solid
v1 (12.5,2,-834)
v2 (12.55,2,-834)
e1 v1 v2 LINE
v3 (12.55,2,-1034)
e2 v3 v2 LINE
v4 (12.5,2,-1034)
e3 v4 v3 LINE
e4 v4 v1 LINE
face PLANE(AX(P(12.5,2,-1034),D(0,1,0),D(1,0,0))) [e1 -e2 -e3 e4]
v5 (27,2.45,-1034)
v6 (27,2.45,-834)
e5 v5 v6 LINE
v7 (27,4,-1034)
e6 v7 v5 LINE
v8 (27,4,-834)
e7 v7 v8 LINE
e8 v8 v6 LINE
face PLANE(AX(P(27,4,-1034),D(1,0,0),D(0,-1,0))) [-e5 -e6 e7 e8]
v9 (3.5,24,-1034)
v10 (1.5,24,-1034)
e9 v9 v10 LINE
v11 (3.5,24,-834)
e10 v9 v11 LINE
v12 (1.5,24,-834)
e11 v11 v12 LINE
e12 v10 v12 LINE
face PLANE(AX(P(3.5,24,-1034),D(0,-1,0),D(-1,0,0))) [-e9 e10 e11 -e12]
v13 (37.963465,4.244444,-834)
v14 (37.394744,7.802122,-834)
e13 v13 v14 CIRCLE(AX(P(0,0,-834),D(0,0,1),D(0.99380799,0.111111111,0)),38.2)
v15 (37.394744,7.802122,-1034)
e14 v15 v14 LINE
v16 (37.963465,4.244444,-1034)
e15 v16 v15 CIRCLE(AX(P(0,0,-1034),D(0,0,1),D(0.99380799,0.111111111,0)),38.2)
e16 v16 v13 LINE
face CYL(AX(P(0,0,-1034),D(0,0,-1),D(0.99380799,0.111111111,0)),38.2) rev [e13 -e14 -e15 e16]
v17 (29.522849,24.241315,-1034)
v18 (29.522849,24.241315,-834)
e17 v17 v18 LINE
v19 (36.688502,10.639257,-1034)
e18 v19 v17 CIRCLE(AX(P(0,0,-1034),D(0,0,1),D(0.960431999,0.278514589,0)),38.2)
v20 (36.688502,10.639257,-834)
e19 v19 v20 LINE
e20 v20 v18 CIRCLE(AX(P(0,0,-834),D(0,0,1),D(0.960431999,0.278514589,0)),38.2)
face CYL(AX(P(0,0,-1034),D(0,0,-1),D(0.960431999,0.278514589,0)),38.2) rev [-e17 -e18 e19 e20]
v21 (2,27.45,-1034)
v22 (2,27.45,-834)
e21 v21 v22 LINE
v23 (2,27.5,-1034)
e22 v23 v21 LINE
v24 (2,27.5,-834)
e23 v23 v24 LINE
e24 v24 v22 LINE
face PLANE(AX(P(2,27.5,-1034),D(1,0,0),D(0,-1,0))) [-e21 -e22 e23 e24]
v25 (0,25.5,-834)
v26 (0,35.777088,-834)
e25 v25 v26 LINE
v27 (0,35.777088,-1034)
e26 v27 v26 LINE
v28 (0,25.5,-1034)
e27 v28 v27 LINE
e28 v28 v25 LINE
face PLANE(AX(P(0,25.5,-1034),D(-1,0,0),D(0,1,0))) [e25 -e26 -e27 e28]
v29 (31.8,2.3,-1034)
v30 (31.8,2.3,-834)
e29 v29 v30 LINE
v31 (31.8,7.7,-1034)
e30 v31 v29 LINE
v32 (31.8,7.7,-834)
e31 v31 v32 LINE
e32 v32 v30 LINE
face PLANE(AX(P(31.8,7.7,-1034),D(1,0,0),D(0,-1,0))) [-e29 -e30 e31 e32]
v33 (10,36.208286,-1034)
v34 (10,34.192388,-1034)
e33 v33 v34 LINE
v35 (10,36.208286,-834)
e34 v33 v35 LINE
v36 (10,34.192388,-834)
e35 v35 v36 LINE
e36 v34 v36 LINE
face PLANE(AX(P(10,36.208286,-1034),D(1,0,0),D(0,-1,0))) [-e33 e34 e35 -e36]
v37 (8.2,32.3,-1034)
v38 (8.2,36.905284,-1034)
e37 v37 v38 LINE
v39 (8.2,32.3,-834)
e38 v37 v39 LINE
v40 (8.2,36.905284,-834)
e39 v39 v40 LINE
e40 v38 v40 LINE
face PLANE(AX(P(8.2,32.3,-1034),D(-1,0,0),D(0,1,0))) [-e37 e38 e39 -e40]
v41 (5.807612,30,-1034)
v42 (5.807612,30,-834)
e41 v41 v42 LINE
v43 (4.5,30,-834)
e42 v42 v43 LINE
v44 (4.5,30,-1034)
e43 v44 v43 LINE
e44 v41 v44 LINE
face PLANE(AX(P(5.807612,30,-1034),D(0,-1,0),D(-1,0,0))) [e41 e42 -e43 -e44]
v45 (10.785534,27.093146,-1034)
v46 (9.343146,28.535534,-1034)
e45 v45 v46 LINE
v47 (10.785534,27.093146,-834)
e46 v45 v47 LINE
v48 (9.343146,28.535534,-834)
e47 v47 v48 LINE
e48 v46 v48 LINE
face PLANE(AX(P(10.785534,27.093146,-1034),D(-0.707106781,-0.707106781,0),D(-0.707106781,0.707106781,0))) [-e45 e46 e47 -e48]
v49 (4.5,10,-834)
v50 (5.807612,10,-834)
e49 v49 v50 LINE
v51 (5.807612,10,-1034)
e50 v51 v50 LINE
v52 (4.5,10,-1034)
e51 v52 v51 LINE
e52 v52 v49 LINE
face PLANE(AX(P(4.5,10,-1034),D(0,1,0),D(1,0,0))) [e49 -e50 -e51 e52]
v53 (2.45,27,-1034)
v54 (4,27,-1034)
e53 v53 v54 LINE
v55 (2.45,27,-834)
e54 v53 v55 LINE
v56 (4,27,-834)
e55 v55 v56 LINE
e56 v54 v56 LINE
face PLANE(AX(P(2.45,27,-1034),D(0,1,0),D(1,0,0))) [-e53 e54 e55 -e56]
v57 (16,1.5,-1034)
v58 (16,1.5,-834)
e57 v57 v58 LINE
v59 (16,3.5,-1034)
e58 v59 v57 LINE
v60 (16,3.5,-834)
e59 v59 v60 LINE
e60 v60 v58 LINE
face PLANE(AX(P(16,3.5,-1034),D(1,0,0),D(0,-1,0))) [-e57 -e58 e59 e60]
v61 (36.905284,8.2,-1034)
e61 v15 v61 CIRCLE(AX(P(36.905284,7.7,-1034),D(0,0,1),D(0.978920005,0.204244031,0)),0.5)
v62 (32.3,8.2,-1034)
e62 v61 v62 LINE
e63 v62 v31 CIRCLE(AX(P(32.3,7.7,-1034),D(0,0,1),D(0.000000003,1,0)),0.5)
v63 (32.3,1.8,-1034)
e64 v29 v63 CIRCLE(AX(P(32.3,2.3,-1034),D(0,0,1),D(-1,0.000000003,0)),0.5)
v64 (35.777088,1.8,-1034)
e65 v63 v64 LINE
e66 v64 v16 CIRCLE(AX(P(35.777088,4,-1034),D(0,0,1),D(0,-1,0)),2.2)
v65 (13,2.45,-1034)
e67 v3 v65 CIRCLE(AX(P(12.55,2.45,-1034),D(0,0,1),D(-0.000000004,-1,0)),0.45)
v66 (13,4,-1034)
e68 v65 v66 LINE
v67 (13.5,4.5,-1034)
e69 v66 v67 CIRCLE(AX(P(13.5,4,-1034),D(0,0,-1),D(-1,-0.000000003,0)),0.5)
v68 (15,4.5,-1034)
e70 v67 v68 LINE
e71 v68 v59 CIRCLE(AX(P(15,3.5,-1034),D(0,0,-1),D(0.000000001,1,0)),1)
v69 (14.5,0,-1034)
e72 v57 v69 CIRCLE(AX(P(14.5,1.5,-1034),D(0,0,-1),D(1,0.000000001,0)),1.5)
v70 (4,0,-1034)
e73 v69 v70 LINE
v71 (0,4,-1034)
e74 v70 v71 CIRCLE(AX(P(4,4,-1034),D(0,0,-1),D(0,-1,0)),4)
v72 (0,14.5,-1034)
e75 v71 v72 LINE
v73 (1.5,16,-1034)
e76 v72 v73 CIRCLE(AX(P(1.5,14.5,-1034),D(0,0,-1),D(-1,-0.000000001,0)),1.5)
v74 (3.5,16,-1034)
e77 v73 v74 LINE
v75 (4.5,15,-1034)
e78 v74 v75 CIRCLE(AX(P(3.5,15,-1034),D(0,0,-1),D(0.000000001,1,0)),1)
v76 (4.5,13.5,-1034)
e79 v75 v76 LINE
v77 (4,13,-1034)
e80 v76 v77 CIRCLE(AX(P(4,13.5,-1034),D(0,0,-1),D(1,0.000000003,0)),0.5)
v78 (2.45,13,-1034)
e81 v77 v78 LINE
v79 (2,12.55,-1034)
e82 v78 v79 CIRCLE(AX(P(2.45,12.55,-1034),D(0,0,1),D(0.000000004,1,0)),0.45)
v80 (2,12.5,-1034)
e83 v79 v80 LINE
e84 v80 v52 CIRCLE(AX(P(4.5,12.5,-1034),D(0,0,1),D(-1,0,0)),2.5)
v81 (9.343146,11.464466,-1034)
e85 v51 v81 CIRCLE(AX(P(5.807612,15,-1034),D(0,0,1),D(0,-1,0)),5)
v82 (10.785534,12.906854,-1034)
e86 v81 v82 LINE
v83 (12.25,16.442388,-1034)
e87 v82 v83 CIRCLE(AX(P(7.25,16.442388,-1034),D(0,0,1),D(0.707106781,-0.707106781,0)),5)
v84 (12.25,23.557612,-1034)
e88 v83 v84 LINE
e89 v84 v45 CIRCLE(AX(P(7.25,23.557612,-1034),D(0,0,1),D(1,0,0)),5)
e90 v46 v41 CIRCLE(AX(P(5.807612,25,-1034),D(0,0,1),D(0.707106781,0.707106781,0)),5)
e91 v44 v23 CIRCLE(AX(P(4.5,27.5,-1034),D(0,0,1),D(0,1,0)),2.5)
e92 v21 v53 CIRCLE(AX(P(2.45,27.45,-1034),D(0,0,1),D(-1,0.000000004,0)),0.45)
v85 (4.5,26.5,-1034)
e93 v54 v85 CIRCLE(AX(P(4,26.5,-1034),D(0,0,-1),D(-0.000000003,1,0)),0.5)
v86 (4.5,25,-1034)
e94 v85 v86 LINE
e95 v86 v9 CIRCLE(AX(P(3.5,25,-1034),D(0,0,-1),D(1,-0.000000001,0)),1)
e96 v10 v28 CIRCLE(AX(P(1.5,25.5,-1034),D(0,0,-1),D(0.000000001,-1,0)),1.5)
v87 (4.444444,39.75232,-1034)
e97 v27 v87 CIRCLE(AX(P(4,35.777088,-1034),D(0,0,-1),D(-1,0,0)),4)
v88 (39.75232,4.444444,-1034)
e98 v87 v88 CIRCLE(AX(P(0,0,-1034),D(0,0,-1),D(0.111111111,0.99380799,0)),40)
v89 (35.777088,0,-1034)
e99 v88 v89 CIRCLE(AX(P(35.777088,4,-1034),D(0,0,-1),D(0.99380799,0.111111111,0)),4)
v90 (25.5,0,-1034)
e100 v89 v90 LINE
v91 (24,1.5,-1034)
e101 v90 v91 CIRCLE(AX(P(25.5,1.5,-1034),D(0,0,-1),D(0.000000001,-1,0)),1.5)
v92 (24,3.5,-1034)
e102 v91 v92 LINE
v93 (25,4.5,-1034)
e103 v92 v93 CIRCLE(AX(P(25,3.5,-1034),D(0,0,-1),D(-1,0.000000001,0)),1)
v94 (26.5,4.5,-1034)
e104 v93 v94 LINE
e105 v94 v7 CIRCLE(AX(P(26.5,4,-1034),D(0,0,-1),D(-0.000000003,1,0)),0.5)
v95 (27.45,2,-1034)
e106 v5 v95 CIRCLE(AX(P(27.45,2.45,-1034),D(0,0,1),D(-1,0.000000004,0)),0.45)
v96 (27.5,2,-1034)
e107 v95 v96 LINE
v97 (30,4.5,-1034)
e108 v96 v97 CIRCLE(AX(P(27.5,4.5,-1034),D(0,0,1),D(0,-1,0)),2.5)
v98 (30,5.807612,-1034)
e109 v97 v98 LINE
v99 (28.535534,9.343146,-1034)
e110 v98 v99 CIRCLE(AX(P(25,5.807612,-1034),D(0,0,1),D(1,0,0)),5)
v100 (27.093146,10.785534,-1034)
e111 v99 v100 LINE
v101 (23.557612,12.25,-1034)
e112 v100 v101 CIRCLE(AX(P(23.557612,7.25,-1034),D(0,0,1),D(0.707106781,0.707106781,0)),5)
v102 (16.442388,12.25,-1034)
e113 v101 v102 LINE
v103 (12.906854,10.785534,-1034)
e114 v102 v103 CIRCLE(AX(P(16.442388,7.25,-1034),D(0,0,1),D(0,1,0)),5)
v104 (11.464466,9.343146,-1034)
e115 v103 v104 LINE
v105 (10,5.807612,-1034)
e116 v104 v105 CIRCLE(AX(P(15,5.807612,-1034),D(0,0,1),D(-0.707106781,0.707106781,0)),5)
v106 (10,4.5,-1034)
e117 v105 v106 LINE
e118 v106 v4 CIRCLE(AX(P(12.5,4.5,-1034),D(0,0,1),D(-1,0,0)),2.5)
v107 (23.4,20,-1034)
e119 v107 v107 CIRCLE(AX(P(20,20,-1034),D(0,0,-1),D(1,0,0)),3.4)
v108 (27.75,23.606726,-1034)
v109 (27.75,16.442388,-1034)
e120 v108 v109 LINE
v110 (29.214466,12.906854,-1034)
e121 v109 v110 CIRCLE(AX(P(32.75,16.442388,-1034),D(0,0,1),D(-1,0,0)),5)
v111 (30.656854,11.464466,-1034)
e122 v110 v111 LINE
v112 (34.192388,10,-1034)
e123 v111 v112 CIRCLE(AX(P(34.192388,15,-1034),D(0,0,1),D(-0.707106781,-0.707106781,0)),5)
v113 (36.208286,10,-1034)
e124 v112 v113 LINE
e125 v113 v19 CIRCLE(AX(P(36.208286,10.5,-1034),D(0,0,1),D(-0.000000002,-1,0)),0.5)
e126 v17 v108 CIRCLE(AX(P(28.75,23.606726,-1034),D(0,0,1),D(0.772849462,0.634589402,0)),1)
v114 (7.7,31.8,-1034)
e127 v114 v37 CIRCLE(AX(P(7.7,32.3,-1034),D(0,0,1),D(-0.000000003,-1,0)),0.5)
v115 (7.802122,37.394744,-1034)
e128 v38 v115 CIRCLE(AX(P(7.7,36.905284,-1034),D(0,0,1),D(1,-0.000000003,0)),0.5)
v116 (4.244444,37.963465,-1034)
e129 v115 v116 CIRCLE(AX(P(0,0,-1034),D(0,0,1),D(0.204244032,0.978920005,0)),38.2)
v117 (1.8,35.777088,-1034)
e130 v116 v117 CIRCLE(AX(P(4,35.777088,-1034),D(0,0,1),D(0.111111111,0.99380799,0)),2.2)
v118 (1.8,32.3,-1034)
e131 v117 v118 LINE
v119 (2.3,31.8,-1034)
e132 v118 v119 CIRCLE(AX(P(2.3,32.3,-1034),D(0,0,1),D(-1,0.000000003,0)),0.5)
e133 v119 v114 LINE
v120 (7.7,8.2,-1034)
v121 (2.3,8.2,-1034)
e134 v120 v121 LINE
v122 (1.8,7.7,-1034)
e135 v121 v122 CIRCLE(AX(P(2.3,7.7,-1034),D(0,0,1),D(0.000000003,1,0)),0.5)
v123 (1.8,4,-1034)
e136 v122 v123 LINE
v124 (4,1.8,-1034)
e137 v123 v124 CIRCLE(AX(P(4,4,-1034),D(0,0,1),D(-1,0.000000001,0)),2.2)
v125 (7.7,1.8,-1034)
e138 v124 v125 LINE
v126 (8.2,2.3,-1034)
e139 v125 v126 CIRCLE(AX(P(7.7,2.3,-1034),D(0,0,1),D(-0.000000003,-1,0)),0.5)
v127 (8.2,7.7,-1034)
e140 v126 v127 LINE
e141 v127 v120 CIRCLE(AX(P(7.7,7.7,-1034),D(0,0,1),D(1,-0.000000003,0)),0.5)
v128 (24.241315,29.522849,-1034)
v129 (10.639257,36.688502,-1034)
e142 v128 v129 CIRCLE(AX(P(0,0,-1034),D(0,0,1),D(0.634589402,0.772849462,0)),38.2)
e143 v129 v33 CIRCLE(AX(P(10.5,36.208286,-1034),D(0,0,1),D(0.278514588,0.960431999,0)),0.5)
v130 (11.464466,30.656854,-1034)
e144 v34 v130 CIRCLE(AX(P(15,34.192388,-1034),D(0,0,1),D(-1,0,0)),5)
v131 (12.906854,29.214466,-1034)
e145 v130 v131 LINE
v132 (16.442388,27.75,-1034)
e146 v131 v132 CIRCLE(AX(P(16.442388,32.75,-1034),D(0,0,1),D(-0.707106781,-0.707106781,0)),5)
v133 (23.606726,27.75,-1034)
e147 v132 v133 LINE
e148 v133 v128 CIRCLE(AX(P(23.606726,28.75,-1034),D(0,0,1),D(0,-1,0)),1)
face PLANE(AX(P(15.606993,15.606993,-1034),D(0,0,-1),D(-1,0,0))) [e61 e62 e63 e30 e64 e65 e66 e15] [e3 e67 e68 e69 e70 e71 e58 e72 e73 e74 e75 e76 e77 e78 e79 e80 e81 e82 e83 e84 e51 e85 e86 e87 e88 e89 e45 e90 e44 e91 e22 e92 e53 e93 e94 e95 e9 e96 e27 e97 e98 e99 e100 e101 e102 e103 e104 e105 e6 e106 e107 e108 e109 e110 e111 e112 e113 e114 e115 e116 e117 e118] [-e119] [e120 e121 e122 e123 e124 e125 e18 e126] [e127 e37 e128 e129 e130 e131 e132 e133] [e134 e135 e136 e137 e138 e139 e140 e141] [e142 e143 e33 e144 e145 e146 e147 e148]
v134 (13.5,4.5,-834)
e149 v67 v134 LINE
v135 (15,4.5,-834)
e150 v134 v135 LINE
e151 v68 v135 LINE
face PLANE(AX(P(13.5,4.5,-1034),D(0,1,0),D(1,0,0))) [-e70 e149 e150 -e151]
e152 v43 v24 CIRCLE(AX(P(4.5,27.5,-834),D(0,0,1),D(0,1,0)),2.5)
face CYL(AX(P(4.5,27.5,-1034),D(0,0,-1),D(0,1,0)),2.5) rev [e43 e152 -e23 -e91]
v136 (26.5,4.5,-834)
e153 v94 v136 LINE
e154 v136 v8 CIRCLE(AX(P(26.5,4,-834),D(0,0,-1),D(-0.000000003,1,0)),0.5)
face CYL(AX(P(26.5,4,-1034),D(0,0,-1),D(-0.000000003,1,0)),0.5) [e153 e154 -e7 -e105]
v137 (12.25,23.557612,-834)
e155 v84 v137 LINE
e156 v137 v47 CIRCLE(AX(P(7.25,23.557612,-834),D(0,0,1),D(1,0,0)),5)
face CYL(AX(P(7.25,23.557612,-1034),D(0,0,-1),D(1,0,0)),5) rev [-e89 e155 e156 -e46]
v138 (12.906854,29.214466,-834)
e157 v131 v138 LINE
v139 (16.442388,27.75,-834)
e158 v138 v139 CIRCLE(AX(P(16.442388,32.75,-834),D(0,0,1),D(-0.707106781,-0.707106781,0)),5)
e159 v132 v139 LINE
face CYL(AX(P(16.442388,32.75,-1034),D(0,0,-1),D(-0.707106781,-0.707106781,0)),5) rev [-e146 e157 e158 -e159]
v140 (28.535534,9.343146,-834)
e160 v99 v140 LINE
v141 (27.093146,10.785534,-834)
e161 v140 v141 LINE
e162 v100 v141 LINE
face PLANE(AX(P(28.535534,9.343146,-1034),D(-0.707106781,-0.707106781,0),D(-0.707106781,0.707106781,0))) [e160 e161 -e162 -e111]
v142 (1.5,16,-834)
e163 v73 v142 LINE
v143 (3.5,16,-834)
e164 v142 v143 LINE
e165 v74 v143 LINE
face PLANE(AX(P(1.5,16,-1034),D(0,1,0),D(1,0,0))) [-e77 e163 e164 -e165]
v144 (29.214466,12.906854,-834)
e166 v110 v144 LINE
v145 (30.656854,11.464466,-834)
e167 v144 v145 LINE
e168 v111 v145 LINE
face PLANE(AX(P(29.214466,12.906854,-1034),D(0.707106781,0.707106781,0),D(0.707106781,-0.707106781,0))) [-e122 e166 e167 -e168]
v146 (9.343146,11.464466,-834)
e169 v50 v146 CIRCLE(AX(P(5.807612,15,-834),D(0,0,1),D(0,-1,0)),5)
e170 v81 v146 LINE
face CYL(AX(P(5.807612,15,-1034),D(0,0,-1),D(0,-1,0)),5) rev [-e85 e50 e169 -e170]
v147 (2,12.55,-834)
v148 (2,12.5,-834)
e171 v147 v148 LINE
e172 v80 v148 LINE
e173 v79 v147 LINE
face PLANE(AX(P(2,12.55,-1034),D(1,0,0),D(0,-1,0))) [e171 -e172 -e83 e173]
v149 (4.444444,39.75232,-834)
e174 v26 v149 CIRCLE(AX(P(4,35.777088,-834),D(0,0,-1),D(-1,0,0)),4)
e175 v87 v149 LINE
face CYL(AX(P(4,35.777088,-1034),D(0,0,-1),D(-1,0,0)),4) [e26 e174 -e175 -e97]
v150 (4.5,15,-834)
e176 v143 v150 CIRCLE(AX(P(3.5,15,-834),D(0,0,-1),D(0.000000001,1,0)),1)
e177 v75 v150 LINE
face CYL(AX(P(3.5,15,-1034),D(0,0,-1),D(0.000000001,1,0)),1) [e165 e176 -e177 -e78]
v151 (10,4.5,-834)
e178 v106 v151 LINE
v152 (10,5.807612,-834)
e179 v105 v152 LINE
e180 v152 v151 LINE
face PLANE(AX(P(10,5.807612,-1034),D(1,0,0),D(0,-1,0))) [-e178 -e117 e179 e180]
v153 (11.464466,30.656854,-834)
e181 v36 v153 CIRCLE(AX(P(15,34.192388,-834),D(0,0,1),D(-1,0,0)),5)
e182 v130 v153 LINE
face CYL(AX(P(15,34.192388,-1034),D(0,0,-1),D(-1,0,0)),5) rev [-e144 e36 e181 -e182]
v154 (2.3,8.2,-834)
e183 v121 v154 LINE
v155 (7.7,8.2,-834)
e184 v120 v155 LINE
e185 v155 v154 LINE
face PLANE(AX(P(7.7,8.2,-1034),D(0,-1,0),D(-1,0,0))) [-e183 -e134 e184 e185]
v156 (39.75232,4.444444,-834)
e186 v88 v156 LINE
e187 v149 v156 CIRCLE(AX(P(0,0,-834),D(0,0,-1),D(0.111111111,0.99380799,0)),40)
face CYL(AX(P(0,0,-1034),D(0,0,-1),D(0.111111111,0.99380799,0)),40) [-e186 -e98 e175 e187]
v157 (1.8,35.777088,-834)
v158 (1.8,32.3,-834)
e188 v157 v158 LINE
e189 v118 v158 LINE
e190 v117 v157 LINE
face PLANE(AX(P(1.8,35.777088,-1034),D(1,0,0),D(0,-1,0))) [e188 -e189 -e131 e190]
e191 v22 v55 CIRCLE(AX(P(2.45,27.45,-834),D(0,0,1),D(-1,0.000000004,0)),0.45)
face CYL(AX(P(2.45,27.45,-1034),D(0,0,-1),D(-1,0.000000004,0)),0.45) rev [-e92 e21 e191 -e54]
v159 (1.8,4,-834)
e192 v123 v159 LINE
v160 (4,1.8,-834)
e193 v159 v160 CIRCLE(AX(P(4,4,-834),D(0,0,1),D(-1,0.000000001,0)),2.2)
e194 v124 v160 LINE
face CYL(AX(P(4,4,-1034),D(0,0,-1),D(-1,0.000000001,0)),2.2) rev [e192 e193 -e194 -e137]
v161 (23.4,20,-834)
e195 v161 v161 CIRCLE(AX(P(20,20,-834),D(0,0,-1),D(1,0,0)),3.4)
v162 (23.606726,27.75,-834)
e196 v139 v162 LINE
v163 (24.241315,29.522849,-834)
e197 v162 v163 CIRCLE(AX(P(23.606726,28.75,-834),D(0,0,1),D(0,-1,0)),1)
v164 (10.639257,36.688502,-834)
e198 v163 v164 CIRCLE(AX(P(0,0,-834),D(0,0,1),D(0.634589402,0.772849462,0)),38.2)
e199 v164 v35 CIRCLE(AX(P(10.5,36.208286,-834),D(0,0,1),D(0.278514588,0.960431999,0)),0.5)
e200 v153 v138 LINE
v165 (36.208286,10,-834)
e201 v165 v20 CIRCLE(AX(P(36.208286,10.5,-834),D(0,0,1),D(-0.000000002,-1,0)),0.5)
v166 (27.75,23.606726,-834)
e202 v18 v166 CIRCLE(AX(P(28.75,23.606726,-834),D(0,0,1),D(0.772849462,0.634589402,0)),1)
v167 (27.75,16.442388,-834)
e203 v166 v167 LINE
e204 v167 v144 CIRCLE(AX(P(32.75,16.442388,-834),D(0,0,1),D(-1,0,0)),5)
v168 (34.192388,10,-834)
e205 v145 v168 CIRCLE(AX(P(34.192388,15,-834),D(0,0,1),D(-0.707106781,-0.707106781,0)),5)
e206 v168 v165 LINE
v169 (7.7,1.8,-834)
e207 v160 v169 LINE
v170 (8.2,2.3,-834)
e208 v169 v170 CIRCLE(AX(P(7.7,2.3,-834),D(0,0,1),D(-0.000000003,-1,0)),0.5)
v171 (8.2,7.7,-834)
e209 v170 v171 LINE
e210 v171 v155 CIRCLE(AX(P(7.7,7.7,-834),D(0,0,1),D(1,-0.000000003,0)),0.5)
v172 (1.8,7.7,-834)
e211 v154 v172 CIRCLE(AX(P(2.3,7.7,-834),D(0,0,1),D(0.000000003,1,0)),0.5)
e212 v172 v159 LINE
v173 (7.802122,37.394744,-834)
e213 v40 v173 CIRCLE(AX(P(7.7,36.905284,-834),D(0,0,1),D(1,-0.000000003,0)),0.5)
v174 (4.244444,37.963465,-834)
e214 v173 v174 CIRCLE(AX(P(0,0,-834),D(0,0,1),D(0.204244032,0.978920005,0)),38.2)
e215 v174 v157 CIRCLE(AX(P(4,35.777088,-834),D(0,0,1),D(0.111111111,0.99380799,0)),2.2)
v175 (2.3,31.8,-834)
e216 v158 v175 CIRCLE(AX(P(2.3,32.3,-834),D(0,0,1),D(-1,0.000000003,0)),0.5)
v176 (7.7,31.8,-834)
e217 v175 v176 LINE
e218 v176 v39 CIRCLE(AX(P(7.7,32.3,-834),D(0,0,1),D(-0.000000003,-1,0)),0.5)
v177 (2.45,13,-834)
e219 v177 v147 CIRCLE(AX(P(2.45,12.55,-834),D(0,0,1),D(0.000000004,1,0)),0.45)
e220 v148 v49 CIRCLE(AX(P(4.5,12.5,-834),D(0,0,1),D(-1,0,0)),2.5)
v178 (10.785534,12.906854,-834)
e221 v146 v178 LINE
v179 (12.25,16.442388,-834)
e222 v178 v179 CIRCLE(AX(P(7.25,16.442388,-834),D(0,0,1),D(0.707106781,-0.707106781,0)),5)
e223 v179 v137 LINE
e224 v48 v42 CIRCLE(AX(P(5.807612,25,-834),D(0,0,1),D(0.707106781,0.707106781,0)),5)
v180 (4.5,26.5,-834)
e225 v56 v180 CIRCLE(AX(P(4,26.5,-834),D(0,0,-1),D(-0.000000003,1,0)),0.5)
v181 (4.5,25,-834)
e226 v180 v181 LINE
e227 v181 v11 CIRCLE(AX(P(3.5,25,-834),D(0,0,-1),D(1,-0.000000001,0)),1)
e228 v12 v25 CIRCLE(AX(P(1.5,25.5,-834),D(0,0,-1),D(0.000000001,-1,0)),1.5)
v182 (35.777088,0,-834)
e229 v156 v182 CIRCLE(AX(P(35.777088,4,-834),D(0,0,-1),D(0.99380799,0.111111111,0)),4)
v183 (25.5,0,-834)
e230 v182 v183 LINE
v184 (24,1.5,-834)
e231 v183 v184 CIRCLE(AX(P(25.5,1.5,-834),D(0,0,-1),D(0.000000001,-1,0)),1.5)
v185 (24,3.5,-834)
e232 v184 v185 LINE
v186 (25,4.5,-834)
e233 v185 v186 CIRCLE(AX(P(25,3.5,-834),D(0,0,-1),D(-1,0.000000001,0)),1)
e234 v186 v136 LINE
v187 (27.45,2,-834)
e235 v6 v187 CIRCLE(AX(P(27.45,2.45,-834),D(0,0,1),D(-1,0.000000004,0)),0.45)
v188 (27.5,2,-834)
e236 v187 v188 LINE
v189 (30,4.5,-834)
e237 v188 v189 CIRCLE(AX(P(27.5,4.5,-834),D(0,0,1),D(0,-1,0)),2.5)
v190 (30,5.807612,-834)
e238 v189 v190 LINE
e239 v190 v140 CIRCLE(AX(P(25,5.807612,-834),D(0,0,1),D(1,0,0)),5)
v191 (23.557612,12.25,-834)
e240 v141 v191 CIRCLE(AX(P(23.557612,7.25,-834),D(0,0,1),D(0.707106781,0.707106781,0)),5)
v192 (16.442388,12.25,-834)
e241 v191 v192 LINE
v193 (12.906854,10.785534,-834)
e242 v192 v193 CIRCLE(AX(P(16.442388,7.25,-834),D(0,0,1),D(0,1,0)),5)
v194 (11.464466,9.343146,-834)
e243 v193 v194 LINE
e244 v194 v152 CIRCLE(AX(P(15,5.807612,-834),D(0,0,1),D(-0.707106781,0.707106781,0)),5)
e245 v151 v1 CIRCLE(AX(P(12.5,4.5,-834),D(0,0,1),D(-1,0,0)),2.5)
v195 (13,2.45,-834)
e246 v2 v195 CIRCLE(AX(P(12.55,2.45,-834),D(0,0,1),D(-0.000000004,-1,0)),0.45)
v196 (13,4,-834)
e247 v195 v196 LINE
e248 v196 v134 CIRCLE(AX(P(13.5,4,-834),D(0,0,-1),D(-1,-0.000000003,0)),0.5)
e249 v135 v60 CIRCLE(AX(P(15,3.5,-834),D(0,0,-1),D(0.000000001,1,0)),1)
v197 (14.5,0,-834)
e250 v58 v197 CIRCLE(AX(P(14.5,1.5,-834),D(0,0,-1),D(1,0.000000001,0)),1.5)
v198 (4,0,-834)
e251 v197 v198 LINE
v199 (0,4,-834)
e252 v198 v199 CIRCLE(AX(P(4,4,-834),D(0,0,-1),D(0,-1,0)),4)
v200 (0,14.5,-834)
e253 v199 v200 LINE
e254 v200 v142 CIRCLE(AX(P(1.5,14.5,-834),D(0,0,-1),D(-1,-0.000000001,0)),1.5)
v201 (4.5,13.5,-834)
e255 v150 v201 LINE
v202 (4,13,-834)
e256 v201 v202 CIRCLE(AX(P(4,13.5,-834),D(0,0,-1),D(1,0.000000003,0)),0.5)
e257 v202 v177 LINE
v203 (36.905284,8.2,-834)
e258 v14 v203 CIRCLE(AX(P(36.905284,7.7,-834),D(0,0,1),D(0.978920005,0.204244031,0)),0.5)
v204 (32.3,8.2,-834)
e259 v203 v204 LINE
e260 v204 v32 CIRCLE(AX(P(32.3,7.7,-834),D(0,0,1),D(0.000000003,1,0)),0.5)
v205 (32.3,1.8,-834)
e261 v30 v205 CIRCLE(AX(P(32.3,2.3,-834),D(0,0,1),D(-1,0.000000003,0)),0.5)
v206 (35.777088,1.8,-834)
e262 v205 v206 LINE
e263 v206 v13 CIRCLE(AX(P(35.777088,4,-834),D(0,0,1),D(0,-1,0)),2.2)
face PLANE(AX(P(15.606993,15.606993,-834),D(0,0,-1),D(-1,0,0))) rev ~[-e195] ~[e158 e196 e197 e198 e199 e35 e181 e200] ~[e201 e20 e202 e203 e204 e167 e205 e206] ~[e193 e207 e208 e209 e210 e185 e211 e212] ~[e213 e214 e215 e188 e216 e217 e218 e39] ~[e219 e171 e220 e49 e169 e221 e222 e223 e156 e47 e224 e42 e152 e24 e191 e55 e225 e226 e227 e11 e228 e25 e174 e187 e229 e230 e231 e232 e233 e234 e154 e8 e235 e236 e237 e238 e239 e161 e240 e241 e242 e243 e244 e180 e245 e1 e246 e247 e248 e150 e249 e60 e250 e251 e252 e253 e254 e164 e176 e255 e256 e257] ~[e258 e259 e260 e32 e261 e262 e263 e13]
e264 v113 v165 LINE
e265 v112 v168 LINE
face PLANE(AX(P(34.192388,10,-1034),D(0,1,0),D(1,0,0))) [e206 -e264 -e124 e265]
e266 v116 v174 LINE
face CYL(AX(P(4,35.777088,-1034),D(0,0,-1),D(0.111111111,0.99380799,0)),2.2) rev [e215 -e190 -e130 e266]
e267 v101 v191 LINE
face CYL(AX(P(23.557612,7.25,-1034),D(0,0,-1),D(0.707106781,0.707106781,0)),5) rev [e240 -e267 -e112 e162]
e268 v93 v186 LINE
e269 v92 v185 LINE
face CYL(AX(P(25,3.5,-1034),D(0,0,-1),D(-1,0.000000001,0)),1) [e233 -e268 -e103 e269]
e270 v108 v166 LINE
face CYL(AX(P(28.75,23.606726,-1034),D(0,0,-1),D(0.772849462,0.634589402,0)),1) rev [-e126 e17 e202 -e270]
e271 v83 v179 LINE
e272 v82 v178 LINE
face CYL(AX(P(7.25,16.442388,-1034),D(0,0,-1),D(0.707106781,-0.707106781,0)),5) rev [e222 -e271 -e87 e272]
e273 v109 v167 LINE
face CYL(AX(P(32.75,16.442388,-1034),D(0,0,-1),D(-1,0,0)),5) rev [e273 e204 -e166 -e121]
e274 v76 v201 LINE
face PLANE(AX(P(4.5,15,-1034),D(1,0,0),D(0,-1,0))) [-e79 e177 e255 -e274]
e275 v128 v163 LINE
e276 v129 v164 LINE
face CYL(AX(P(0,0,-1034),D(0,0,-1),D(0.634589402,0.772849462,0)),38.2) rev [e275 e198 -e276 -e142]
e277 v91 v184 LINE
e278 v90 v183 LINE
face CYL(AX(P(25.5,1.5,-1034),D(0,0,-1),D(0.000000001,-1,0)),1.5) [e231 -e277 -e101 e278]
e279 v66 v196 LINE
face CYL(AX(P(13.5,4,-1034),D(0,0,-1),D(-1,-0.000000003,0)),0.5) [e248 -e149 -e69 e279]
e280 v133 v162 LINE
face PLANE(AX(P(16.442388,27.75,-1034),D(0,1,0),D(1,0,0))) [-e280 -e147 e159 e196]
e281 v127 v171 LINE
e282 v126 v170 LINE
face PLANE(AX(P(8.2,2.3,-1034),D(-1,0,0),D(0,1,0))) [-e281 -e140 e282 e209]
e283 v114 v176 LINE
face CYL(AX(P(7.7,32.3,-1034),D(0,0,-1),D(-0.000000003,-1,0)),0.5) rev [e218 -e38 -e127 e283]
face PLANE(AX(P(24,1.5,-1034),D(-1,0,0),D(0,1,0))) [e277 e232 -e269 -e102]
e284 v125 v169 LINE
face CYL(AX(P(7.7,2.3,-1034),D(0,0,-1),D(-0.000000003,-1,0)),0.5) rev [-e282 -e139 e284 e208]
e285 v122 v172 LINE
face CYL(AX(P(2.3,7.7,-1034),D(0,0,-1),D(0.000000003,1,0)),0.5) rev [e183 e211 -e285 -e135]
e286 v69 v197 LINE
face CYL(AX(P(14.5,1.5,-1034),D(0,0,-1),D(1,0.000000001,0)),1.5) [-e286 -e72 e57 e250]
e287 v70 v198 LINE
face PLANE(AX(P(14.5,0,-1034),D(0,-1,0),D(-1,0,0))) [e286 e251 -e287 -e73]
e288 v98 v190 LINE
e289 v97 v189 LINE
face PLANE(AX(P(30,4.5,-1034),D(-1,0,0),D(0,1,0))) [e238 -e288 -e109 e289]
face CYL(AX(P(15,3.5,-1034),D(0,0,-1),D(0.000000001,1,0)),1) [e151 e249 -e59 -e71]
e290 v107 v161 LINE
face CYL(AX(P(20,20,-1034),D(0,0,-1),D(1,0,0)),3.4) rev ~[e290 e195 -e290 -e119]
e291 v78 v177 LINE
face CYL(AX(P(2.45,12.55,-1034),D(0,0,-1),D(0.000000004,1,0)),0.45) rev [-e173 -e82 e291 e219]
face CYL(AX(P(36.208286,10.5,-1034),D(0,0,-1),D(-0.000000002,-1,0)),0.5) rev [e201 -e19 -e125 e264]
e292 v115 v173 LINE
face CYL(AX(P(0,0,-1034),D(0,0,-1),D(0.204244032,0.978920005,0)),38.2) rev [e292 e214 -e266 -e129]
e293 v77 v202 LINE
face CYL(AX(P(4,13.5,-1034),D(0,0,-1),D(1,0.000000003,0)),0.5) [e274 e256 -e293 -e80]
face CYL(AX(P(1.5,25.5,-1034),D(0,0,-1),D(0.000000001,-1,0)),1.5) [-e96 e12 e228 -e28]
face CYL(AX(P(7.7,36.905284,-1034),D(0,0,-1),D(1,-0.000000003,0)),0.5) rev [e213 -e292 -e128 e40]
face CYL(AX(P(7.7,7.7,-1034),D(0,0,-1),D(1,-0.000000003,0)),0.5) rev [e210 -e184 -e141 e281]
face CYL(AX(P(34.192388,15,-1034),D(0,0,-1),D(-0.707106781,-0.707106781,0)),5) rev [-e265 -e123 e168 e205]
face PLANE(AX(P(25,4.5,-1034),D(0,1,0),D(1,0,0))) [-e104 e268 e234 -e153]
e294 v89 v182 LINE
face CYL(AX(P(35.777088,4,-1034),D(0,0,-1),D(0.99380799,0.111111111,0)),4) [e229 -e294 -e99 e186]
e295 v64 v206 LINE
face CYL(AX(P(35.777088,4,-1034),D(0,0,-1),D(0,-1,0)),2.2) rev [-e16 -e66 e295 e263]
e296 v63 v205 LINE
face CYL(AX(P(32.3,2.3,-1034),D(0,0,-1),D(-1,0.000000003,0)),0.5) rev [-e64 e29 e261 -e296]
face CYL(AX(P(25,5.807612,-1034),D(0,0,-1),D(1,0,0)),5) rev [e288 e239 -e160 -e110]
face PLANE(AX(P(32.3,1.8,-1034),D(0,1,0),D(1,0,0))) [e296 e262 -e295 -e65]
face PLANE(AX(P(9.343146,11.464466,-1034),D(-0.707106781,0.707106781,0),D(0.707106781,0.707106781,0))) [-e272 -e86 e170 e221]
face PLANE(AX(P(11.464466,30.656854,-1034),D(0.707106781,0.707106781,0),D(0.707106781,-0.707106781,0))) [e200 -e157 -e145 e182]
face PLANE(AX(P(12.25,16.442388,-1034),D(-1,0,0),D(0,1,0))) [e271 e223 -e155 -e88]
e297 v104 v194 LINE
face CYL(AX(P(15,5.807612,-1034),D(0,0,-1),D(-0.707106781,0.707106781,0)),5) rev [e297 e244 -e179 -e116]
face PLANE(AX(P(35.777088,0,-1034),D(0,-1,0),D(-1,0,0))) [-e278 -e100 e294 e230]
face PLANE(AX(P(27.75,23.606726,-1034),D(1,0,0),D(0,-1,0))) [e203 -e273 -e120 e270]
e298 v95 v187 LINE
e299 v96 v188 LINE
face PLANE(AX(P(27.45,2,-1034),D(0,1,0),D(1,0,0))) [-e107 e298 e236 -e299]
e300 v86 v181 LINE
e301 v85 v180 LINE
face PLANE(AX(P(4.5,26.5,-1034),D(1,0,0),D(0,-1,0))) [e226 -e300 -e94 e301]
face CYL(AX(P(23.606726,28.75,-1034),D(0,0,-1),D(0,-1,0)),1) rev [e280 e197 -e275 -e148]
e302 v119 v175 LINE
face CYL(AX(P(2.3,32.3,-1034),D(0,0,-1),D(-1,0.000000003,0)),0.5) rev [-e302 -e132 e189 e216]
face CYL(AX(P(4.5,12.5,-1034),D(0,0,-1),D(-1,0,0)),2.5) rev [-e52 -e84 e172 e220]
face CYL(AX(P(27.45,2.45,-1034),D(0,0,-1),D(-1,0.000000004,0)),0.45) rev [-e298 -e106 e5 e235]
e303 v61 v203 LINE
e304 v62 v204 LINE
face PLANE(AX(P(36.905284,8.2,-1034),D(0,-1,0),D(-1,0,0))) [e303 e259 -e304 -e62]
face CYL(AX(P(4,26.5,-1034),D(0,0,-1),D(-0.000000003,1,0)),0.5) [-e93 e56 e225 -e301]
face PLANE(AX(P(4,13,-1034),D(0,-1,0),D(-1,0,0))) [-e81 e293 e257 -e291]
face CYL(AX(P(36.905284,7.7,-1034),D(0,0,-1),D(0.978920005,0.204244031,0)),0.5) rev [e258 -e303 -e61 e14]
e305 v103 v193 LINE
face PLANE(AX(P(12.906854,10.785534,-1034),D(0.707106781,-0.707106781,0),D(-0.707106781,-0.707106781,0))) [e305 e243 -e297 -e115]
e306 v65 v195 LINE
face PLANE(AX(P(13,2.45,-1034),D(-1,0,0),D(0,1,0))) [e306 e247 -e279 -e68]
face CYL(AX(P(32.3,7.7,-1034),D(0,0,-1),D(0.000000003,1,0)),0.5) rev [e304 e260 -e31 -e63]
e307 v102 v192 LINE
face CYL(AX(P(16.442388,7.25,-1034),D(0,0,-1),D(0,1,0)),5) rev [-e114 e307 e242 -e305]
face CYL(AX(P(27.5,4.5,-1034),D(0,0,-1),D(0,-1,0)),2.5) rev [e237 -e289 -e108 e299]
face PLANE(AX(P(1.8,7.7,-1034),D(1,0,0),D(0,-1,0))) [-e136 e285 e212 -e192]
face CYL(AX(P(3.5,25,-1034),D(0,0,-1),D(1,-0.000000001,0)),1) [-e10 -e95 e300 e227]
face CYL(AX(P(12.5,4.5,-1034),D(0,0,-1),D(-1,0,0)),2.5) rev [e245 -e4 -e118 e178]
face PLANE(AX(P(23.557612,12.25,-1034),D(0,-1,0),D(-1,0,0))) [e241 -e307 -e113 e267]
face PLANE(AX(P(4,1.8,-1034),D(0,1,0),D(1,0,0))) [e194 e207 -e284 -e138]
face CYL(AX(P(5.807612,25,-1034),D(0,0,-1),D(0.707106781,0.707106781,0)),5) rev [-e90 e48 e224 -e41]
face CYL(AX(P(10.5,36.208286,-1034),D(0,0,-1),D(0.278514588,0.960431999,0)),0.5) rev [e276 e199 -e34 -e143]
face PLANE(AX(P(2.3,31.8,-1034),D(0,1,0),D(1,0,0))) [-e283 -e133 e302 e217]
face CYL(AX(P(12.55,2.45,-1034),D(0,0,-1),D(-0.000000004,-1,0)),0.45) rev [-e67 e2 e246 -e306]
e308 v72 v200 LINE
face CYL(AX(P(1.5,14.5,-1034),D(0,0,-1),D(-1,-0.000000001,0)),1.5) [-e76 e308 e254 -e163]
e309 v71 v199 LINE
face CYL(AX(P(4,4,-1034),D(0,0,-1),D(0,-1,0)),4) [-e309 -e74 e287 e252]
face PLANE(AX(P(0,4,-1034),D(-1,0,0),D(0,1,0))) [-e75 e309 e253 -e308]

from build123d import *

# Parameters (mm, degrees)
SCHIZZO1_R                   = 3.4
ESTRUSIONE_ESTRUSIONE1_DEPTH = 200


with BuildPart() as part:
    # Schizzo1 → Estrusione-Estrusione1 (new body)
    with BuildSketch(Plane(origin=(0, 0, -1034), x_dir=(-1, 0, 0), z_dir=(0, 0, -1))):
        with BuildLine():
            Line((-16, 3.5), (-16, 1.5))
            ThreePointArc((-16, 1.5), (-15.560660172, 0.439339828), (-14.5, 0))
            Line((-14.5, 0), (-4, 0))
            ThreePointArc((-4, 0), (-1.171572875, 1.171572875), (0, 4))
            Line((0, 4), (0, 14.5))
            ThreePointArc((0, 14.5), (-0.439339828, 15.560660172), (-1.5, 16))
            Line((-1.5, 16), (-3.5, 16))
            ThreePointArc((-3.5, 16), (-4.207106781, 15.707106781), (-4.5, 15))
            Line((-4.5, 15), (-4.5, 13.5))
            ThreePointArc((-4.5, 13.5), (-4.353553391, 13.146446609), (-4, 13))
            Line((-4, 13), (-2.45, 13))
            ThreePointArc((-2.45, 13), (-2.131801948, 12.868198052), (-2, 12.55))
            Line((-2, 12.55), (-2, 12.5))
            ThreePointArc((-2, 12.5), (-2.732233047, 10.732233047), (-4.5, 10))
            Line((-4.5, 10), (-5.807611845, 10))
            ThreePointArc((-5.807611845, 10), (-7.721029007, 10.380602337), (-9.343145751, 11.464466094))
            Line((-9.343145751, 11.464466094), (-10.785533906, 12.906854249))
            ThreePointArc((-10.785533906, 12.906854249), (-11.869397663, 14.528970994), (-12.25, 16.442388155))
            Line((-12.25, 16.442388155), (-12.25, 23.557611845))
            ThreePointArc((-12.25, 23.557611845), (-11.869397663, 25.471029006), (-10.785533906, 27.09314575))
            Line((-10.785533906, 27.09314575), (-9.343145751, 28.535533906))
            ThreePointArc((-9.343145751, 28.535533906), (-7.721029006, 29.619397663), (-5.807611845, 30))
            Line((-5.807611845, 30), (-4.5, 30))
            ThreePointArc((-4.5, 30), (-2.732233047, 29.267766953), (-2, 27.5))
            Line((-2, 27.5), (-2, 27.45))
            ThreePointArc((-2, 27.45), (-2.131801948, 27.131801948), (-2.45, 27))
            Line((-2.45, 27), (-4, 27))
            ThreePointArc((-4, 27), (-4.353553391, 26.853553391), (-4.5, 26.5))
            Line((-4.5, 26.5), (-4.5, 25))
            ThreePointArc((-4.5, 25), (-4.207106781, 24.292893219), (-3.5, 24))
            Line((-3.5, 24), (-1.5, 24))
            ThreePointArc((-1.5, 24), (-0.439339828, 24.439339828), (0, 25.5))
            Line((0, 25.5), (0, 35.77708764))
            ThreePointArc((0, 35.77708764), (-1.333333333, 38.75851161), (-4.444444444, 39.7523196))
            ThreePointArc((-4.444444444, 39.7523196), (-28.284271247, 28.284271247), (-39.7523196, 4.444444444))
            ThreePointArc((-39.7523196, 4.444444444), (-38.75851161, 1.333333333), (-35.77708764, 0))
            Line((-35.77708764, 0), (-25.5, 0))
            ThreePointArc((-25.5, 0), (-24.439339828, 0.439339828), (-24, 1.5))
            Line((-24, 1.5), (-24, 3.5))
            ThreePointArc((-24, 3.5), (-24.292893219, 4.207106781), (-25, 4.5))
            Line((-25, 4.5), (-26.5, 4.5))
            ThreePointArc((-26.5, 4.5), (-26.853553391, 4.353553391), (-27, 4))
            Line((-27, 4), (-27, 2.45))
            ThreePointArc((-27, 2.45), (-27.131801948, 2.131801948), (-27.45, 2))
            Line((-27.45, 2), (-27.5, 2))
            ThreePointArc((-27.5, 2), (-29.267766953, 2.732233047), (-30, 4.5))
            Line((-30, 4.5), (-30, 5.807611845))
            ThreePointArc((-30, 5.807611845), (-29.619397663, 7.721029006), (-28.535533906, 9.343145751))
            Line((-28.535533906, 9.343145751), (-27.09314575, 10.785533906))
            ThreePointArc((-27.09314575, 10.785533906), (-25.471029006, 11.869397663), (-23.557611845, 12.25))
            Line((-23.557611845, 12.25), (-16.442388155, 12.25))
            ThreePointArc((-16.442388155, 12.25), (-14.528970994, 11.869397663), (-12.90685425, 10.785533906))
            Line((-12.90685425, 10.785533906), (-11.464466094, 9.343145751))
            ThreePointArc((-11.464466094, 9.343145751), (-10.380602337, 7.721029006), (-10, 5.807611845))
            Line((-10, 5.807611845), (-10, 4.5))
            ThreePointArc((-10, 4.5), (-10.732233047, 2.732233047), (-12.5, 2))
            Line((-12.5, 2), (-12.55, 2))
            ThreePointArc((-12.55, 2), (-12.868198052, 2.131801948), (-13, 2.45))
            Line((-13, 2.45), (-13, 4))
            ThreePointArc((-13, 4), (-13.146446609, 4.353553391), (-13.5, 4.5))
            Line((-13.5, 4.5), (-15, 4.5))
            ThreePointArc((-15, 4.5), (-15.707106781, 4.207106781), (-16, 3.5))
        make_face()
        with Locations(Location((-20, 20, 0), (0, 0, 180))):
            Circle(SCHIZZO1_R, mode=Mode.SUBTRACT)
        with BuildLine():
            Line((-8.2, 32.3), (-8.2, 36.905284174))
            ThreePointArc((-8.2, 36.905284174), (-8.087982608, 37.220672025), (-7.802122016, 37.394744177))
            ThreePointArc((-7.802122016, 37.394744177), (-6.029991855, 37.721071011), (-4.244444444, 37.963465218))
            ThreePointArc((-4.244444444, 37.963465218), (-2.533333333, 37.416870823), (-1.8, 35.77708764))
            Line((-1.8, 35.77708764), (-1.8, 32.3))
            ThreePointArc((-1.8, 32.3), (-1.946446609, 31.946446609), (-2.3, 31.8))
            Line((-2.3, 31.8), (-7.7, 31.8))
            ThreePointArc((-7.7, 31.8), (-8.053553391, 31.946446609), (-8.2, 32.3))
        make_face(mode=Mode.SUBTRACT)
        with BuildLine():
            Line((-4, 1.8), (-7.7, 1.8))
            ThreePointArc((-7.7, 1.8), (-8.053553391, 1.946446609), (-8.2, 2.3))
            Line((-8.2, 2.3), (-8.2, 7.7))
            ThreePointArc((-8.2, 7.7), (-8.053553391, 8.053553391), (-7.7, 8.2))
            Line((-7.7, 8.2), (-2.3, 8.2))
            ThreePointArc((-2.3, 8.2), (-1.946446609, 8.053553391), (-1.8, 7.7))
            Line((-1.8, 7.7), (-1.8, 4))
            ThreePointArc((-1.8, 4), (-2.444365081, 2.444365081), (-4, 1.8))
        make_face(mode=Mode.SUBTRACT)
        with BuildLine():
            Line((-27.75, 23.606725737), (-27.75, 16.442388155))
            ThreePointArc((-27.75, 16.442388155), (-28.130602337, 14.528970994), (-29.214466094, 12.906854249))
            Line((-29.214466094, 12.906854249), (-30.656854249, 11.464466094))
            ThreePointArc((-30.656854249, 11.464466094), (-32.278970994, 10.380602337), (-34.192388155, 10))
            Line((-34.192388155, 10), (-36.208286344, 10))
            ThreePointArc((-36.208286344, 10), (-36.608054182, 10.199690699), (-36.688502344, 10.639257294))
            ThreePointArc((-36.688502344, 10.639257294), (-33.797037909, 17.804500235), (-29.522849462, 24.241315138))
            ThreePointArc((-29.522849462, 24.241315138), (-28.412990699, 24.548227054), (-27.75, 23.606725737))
        make_face(mode=Mode.SUBTRACT)
        with BuildLine():
            Line((-10, 36.208286344), (-10, 34.192388155))
            ThreePointArc((-10, 34.192388155), (-10.380602337, 32.278970994), (-11.464466094, 30.656854249))
            Line((-11.464466094, 30.656854249), (-12.906854249, 29.214466094))
            ThreePointArc((-12.906854249, 29.214466094), (-14.528970994, 28.130602337), (-16.442388155, 27.75))
            Line((-16.442388155, 27.75), (-23.606725737, 27.75))
            ThreePointArc((-23.606725737, 27.75), (-24.548227054, 28.412990699), (-24.241315138, 29.522849462))
            ThreePointArc((-24.241315138, 29.522849462), (-17.804500235, 33.797037909), (-10.639257294, 36.688502344))
            ThreePointArc((-10.639257294, 36.688502344), (-10.199690699, 36.608054182), (-10, 36.208286344))
        make_face(mode=Mode.SUBTRACT)
        with BuildLine():
            Line((-36.905284174, 8.2), (-32.3, 8.2))
            ThreePointArc((-32.3, 8.2), (-31.946446609, 8.053553391), (-31.8, 7.7))
            Line((-31.8, 7.7), (-31.8, 2.3))
            ThreePointArc((-31.8, 2.3), (-31.946446609, 1.946446609), (-32.3, 1.8))
            Line((-32.3, 1.8), (-35.77708764, 1.8))
            ThreePointArc((-35.77708764, 1.8), (-37.416870823, 2.533333333), (-37.963465218, 4.244444444))
            ThreePointArc((-37.963465218, 4.244444444), (-37.721071011, 6.029991855), (-37.394744177, 7.802122016))
            ThreePointArc((-37.394744177, 7.802122016), (-37.220672025, 8.087982608), (-36.905284174, 8.2))
        make_face(mode=Mode.SUBTRACT)
    extrude(amount=-ESTRUSIONE_ESTRUSIONE1_DEPTH)


solid = part.part
